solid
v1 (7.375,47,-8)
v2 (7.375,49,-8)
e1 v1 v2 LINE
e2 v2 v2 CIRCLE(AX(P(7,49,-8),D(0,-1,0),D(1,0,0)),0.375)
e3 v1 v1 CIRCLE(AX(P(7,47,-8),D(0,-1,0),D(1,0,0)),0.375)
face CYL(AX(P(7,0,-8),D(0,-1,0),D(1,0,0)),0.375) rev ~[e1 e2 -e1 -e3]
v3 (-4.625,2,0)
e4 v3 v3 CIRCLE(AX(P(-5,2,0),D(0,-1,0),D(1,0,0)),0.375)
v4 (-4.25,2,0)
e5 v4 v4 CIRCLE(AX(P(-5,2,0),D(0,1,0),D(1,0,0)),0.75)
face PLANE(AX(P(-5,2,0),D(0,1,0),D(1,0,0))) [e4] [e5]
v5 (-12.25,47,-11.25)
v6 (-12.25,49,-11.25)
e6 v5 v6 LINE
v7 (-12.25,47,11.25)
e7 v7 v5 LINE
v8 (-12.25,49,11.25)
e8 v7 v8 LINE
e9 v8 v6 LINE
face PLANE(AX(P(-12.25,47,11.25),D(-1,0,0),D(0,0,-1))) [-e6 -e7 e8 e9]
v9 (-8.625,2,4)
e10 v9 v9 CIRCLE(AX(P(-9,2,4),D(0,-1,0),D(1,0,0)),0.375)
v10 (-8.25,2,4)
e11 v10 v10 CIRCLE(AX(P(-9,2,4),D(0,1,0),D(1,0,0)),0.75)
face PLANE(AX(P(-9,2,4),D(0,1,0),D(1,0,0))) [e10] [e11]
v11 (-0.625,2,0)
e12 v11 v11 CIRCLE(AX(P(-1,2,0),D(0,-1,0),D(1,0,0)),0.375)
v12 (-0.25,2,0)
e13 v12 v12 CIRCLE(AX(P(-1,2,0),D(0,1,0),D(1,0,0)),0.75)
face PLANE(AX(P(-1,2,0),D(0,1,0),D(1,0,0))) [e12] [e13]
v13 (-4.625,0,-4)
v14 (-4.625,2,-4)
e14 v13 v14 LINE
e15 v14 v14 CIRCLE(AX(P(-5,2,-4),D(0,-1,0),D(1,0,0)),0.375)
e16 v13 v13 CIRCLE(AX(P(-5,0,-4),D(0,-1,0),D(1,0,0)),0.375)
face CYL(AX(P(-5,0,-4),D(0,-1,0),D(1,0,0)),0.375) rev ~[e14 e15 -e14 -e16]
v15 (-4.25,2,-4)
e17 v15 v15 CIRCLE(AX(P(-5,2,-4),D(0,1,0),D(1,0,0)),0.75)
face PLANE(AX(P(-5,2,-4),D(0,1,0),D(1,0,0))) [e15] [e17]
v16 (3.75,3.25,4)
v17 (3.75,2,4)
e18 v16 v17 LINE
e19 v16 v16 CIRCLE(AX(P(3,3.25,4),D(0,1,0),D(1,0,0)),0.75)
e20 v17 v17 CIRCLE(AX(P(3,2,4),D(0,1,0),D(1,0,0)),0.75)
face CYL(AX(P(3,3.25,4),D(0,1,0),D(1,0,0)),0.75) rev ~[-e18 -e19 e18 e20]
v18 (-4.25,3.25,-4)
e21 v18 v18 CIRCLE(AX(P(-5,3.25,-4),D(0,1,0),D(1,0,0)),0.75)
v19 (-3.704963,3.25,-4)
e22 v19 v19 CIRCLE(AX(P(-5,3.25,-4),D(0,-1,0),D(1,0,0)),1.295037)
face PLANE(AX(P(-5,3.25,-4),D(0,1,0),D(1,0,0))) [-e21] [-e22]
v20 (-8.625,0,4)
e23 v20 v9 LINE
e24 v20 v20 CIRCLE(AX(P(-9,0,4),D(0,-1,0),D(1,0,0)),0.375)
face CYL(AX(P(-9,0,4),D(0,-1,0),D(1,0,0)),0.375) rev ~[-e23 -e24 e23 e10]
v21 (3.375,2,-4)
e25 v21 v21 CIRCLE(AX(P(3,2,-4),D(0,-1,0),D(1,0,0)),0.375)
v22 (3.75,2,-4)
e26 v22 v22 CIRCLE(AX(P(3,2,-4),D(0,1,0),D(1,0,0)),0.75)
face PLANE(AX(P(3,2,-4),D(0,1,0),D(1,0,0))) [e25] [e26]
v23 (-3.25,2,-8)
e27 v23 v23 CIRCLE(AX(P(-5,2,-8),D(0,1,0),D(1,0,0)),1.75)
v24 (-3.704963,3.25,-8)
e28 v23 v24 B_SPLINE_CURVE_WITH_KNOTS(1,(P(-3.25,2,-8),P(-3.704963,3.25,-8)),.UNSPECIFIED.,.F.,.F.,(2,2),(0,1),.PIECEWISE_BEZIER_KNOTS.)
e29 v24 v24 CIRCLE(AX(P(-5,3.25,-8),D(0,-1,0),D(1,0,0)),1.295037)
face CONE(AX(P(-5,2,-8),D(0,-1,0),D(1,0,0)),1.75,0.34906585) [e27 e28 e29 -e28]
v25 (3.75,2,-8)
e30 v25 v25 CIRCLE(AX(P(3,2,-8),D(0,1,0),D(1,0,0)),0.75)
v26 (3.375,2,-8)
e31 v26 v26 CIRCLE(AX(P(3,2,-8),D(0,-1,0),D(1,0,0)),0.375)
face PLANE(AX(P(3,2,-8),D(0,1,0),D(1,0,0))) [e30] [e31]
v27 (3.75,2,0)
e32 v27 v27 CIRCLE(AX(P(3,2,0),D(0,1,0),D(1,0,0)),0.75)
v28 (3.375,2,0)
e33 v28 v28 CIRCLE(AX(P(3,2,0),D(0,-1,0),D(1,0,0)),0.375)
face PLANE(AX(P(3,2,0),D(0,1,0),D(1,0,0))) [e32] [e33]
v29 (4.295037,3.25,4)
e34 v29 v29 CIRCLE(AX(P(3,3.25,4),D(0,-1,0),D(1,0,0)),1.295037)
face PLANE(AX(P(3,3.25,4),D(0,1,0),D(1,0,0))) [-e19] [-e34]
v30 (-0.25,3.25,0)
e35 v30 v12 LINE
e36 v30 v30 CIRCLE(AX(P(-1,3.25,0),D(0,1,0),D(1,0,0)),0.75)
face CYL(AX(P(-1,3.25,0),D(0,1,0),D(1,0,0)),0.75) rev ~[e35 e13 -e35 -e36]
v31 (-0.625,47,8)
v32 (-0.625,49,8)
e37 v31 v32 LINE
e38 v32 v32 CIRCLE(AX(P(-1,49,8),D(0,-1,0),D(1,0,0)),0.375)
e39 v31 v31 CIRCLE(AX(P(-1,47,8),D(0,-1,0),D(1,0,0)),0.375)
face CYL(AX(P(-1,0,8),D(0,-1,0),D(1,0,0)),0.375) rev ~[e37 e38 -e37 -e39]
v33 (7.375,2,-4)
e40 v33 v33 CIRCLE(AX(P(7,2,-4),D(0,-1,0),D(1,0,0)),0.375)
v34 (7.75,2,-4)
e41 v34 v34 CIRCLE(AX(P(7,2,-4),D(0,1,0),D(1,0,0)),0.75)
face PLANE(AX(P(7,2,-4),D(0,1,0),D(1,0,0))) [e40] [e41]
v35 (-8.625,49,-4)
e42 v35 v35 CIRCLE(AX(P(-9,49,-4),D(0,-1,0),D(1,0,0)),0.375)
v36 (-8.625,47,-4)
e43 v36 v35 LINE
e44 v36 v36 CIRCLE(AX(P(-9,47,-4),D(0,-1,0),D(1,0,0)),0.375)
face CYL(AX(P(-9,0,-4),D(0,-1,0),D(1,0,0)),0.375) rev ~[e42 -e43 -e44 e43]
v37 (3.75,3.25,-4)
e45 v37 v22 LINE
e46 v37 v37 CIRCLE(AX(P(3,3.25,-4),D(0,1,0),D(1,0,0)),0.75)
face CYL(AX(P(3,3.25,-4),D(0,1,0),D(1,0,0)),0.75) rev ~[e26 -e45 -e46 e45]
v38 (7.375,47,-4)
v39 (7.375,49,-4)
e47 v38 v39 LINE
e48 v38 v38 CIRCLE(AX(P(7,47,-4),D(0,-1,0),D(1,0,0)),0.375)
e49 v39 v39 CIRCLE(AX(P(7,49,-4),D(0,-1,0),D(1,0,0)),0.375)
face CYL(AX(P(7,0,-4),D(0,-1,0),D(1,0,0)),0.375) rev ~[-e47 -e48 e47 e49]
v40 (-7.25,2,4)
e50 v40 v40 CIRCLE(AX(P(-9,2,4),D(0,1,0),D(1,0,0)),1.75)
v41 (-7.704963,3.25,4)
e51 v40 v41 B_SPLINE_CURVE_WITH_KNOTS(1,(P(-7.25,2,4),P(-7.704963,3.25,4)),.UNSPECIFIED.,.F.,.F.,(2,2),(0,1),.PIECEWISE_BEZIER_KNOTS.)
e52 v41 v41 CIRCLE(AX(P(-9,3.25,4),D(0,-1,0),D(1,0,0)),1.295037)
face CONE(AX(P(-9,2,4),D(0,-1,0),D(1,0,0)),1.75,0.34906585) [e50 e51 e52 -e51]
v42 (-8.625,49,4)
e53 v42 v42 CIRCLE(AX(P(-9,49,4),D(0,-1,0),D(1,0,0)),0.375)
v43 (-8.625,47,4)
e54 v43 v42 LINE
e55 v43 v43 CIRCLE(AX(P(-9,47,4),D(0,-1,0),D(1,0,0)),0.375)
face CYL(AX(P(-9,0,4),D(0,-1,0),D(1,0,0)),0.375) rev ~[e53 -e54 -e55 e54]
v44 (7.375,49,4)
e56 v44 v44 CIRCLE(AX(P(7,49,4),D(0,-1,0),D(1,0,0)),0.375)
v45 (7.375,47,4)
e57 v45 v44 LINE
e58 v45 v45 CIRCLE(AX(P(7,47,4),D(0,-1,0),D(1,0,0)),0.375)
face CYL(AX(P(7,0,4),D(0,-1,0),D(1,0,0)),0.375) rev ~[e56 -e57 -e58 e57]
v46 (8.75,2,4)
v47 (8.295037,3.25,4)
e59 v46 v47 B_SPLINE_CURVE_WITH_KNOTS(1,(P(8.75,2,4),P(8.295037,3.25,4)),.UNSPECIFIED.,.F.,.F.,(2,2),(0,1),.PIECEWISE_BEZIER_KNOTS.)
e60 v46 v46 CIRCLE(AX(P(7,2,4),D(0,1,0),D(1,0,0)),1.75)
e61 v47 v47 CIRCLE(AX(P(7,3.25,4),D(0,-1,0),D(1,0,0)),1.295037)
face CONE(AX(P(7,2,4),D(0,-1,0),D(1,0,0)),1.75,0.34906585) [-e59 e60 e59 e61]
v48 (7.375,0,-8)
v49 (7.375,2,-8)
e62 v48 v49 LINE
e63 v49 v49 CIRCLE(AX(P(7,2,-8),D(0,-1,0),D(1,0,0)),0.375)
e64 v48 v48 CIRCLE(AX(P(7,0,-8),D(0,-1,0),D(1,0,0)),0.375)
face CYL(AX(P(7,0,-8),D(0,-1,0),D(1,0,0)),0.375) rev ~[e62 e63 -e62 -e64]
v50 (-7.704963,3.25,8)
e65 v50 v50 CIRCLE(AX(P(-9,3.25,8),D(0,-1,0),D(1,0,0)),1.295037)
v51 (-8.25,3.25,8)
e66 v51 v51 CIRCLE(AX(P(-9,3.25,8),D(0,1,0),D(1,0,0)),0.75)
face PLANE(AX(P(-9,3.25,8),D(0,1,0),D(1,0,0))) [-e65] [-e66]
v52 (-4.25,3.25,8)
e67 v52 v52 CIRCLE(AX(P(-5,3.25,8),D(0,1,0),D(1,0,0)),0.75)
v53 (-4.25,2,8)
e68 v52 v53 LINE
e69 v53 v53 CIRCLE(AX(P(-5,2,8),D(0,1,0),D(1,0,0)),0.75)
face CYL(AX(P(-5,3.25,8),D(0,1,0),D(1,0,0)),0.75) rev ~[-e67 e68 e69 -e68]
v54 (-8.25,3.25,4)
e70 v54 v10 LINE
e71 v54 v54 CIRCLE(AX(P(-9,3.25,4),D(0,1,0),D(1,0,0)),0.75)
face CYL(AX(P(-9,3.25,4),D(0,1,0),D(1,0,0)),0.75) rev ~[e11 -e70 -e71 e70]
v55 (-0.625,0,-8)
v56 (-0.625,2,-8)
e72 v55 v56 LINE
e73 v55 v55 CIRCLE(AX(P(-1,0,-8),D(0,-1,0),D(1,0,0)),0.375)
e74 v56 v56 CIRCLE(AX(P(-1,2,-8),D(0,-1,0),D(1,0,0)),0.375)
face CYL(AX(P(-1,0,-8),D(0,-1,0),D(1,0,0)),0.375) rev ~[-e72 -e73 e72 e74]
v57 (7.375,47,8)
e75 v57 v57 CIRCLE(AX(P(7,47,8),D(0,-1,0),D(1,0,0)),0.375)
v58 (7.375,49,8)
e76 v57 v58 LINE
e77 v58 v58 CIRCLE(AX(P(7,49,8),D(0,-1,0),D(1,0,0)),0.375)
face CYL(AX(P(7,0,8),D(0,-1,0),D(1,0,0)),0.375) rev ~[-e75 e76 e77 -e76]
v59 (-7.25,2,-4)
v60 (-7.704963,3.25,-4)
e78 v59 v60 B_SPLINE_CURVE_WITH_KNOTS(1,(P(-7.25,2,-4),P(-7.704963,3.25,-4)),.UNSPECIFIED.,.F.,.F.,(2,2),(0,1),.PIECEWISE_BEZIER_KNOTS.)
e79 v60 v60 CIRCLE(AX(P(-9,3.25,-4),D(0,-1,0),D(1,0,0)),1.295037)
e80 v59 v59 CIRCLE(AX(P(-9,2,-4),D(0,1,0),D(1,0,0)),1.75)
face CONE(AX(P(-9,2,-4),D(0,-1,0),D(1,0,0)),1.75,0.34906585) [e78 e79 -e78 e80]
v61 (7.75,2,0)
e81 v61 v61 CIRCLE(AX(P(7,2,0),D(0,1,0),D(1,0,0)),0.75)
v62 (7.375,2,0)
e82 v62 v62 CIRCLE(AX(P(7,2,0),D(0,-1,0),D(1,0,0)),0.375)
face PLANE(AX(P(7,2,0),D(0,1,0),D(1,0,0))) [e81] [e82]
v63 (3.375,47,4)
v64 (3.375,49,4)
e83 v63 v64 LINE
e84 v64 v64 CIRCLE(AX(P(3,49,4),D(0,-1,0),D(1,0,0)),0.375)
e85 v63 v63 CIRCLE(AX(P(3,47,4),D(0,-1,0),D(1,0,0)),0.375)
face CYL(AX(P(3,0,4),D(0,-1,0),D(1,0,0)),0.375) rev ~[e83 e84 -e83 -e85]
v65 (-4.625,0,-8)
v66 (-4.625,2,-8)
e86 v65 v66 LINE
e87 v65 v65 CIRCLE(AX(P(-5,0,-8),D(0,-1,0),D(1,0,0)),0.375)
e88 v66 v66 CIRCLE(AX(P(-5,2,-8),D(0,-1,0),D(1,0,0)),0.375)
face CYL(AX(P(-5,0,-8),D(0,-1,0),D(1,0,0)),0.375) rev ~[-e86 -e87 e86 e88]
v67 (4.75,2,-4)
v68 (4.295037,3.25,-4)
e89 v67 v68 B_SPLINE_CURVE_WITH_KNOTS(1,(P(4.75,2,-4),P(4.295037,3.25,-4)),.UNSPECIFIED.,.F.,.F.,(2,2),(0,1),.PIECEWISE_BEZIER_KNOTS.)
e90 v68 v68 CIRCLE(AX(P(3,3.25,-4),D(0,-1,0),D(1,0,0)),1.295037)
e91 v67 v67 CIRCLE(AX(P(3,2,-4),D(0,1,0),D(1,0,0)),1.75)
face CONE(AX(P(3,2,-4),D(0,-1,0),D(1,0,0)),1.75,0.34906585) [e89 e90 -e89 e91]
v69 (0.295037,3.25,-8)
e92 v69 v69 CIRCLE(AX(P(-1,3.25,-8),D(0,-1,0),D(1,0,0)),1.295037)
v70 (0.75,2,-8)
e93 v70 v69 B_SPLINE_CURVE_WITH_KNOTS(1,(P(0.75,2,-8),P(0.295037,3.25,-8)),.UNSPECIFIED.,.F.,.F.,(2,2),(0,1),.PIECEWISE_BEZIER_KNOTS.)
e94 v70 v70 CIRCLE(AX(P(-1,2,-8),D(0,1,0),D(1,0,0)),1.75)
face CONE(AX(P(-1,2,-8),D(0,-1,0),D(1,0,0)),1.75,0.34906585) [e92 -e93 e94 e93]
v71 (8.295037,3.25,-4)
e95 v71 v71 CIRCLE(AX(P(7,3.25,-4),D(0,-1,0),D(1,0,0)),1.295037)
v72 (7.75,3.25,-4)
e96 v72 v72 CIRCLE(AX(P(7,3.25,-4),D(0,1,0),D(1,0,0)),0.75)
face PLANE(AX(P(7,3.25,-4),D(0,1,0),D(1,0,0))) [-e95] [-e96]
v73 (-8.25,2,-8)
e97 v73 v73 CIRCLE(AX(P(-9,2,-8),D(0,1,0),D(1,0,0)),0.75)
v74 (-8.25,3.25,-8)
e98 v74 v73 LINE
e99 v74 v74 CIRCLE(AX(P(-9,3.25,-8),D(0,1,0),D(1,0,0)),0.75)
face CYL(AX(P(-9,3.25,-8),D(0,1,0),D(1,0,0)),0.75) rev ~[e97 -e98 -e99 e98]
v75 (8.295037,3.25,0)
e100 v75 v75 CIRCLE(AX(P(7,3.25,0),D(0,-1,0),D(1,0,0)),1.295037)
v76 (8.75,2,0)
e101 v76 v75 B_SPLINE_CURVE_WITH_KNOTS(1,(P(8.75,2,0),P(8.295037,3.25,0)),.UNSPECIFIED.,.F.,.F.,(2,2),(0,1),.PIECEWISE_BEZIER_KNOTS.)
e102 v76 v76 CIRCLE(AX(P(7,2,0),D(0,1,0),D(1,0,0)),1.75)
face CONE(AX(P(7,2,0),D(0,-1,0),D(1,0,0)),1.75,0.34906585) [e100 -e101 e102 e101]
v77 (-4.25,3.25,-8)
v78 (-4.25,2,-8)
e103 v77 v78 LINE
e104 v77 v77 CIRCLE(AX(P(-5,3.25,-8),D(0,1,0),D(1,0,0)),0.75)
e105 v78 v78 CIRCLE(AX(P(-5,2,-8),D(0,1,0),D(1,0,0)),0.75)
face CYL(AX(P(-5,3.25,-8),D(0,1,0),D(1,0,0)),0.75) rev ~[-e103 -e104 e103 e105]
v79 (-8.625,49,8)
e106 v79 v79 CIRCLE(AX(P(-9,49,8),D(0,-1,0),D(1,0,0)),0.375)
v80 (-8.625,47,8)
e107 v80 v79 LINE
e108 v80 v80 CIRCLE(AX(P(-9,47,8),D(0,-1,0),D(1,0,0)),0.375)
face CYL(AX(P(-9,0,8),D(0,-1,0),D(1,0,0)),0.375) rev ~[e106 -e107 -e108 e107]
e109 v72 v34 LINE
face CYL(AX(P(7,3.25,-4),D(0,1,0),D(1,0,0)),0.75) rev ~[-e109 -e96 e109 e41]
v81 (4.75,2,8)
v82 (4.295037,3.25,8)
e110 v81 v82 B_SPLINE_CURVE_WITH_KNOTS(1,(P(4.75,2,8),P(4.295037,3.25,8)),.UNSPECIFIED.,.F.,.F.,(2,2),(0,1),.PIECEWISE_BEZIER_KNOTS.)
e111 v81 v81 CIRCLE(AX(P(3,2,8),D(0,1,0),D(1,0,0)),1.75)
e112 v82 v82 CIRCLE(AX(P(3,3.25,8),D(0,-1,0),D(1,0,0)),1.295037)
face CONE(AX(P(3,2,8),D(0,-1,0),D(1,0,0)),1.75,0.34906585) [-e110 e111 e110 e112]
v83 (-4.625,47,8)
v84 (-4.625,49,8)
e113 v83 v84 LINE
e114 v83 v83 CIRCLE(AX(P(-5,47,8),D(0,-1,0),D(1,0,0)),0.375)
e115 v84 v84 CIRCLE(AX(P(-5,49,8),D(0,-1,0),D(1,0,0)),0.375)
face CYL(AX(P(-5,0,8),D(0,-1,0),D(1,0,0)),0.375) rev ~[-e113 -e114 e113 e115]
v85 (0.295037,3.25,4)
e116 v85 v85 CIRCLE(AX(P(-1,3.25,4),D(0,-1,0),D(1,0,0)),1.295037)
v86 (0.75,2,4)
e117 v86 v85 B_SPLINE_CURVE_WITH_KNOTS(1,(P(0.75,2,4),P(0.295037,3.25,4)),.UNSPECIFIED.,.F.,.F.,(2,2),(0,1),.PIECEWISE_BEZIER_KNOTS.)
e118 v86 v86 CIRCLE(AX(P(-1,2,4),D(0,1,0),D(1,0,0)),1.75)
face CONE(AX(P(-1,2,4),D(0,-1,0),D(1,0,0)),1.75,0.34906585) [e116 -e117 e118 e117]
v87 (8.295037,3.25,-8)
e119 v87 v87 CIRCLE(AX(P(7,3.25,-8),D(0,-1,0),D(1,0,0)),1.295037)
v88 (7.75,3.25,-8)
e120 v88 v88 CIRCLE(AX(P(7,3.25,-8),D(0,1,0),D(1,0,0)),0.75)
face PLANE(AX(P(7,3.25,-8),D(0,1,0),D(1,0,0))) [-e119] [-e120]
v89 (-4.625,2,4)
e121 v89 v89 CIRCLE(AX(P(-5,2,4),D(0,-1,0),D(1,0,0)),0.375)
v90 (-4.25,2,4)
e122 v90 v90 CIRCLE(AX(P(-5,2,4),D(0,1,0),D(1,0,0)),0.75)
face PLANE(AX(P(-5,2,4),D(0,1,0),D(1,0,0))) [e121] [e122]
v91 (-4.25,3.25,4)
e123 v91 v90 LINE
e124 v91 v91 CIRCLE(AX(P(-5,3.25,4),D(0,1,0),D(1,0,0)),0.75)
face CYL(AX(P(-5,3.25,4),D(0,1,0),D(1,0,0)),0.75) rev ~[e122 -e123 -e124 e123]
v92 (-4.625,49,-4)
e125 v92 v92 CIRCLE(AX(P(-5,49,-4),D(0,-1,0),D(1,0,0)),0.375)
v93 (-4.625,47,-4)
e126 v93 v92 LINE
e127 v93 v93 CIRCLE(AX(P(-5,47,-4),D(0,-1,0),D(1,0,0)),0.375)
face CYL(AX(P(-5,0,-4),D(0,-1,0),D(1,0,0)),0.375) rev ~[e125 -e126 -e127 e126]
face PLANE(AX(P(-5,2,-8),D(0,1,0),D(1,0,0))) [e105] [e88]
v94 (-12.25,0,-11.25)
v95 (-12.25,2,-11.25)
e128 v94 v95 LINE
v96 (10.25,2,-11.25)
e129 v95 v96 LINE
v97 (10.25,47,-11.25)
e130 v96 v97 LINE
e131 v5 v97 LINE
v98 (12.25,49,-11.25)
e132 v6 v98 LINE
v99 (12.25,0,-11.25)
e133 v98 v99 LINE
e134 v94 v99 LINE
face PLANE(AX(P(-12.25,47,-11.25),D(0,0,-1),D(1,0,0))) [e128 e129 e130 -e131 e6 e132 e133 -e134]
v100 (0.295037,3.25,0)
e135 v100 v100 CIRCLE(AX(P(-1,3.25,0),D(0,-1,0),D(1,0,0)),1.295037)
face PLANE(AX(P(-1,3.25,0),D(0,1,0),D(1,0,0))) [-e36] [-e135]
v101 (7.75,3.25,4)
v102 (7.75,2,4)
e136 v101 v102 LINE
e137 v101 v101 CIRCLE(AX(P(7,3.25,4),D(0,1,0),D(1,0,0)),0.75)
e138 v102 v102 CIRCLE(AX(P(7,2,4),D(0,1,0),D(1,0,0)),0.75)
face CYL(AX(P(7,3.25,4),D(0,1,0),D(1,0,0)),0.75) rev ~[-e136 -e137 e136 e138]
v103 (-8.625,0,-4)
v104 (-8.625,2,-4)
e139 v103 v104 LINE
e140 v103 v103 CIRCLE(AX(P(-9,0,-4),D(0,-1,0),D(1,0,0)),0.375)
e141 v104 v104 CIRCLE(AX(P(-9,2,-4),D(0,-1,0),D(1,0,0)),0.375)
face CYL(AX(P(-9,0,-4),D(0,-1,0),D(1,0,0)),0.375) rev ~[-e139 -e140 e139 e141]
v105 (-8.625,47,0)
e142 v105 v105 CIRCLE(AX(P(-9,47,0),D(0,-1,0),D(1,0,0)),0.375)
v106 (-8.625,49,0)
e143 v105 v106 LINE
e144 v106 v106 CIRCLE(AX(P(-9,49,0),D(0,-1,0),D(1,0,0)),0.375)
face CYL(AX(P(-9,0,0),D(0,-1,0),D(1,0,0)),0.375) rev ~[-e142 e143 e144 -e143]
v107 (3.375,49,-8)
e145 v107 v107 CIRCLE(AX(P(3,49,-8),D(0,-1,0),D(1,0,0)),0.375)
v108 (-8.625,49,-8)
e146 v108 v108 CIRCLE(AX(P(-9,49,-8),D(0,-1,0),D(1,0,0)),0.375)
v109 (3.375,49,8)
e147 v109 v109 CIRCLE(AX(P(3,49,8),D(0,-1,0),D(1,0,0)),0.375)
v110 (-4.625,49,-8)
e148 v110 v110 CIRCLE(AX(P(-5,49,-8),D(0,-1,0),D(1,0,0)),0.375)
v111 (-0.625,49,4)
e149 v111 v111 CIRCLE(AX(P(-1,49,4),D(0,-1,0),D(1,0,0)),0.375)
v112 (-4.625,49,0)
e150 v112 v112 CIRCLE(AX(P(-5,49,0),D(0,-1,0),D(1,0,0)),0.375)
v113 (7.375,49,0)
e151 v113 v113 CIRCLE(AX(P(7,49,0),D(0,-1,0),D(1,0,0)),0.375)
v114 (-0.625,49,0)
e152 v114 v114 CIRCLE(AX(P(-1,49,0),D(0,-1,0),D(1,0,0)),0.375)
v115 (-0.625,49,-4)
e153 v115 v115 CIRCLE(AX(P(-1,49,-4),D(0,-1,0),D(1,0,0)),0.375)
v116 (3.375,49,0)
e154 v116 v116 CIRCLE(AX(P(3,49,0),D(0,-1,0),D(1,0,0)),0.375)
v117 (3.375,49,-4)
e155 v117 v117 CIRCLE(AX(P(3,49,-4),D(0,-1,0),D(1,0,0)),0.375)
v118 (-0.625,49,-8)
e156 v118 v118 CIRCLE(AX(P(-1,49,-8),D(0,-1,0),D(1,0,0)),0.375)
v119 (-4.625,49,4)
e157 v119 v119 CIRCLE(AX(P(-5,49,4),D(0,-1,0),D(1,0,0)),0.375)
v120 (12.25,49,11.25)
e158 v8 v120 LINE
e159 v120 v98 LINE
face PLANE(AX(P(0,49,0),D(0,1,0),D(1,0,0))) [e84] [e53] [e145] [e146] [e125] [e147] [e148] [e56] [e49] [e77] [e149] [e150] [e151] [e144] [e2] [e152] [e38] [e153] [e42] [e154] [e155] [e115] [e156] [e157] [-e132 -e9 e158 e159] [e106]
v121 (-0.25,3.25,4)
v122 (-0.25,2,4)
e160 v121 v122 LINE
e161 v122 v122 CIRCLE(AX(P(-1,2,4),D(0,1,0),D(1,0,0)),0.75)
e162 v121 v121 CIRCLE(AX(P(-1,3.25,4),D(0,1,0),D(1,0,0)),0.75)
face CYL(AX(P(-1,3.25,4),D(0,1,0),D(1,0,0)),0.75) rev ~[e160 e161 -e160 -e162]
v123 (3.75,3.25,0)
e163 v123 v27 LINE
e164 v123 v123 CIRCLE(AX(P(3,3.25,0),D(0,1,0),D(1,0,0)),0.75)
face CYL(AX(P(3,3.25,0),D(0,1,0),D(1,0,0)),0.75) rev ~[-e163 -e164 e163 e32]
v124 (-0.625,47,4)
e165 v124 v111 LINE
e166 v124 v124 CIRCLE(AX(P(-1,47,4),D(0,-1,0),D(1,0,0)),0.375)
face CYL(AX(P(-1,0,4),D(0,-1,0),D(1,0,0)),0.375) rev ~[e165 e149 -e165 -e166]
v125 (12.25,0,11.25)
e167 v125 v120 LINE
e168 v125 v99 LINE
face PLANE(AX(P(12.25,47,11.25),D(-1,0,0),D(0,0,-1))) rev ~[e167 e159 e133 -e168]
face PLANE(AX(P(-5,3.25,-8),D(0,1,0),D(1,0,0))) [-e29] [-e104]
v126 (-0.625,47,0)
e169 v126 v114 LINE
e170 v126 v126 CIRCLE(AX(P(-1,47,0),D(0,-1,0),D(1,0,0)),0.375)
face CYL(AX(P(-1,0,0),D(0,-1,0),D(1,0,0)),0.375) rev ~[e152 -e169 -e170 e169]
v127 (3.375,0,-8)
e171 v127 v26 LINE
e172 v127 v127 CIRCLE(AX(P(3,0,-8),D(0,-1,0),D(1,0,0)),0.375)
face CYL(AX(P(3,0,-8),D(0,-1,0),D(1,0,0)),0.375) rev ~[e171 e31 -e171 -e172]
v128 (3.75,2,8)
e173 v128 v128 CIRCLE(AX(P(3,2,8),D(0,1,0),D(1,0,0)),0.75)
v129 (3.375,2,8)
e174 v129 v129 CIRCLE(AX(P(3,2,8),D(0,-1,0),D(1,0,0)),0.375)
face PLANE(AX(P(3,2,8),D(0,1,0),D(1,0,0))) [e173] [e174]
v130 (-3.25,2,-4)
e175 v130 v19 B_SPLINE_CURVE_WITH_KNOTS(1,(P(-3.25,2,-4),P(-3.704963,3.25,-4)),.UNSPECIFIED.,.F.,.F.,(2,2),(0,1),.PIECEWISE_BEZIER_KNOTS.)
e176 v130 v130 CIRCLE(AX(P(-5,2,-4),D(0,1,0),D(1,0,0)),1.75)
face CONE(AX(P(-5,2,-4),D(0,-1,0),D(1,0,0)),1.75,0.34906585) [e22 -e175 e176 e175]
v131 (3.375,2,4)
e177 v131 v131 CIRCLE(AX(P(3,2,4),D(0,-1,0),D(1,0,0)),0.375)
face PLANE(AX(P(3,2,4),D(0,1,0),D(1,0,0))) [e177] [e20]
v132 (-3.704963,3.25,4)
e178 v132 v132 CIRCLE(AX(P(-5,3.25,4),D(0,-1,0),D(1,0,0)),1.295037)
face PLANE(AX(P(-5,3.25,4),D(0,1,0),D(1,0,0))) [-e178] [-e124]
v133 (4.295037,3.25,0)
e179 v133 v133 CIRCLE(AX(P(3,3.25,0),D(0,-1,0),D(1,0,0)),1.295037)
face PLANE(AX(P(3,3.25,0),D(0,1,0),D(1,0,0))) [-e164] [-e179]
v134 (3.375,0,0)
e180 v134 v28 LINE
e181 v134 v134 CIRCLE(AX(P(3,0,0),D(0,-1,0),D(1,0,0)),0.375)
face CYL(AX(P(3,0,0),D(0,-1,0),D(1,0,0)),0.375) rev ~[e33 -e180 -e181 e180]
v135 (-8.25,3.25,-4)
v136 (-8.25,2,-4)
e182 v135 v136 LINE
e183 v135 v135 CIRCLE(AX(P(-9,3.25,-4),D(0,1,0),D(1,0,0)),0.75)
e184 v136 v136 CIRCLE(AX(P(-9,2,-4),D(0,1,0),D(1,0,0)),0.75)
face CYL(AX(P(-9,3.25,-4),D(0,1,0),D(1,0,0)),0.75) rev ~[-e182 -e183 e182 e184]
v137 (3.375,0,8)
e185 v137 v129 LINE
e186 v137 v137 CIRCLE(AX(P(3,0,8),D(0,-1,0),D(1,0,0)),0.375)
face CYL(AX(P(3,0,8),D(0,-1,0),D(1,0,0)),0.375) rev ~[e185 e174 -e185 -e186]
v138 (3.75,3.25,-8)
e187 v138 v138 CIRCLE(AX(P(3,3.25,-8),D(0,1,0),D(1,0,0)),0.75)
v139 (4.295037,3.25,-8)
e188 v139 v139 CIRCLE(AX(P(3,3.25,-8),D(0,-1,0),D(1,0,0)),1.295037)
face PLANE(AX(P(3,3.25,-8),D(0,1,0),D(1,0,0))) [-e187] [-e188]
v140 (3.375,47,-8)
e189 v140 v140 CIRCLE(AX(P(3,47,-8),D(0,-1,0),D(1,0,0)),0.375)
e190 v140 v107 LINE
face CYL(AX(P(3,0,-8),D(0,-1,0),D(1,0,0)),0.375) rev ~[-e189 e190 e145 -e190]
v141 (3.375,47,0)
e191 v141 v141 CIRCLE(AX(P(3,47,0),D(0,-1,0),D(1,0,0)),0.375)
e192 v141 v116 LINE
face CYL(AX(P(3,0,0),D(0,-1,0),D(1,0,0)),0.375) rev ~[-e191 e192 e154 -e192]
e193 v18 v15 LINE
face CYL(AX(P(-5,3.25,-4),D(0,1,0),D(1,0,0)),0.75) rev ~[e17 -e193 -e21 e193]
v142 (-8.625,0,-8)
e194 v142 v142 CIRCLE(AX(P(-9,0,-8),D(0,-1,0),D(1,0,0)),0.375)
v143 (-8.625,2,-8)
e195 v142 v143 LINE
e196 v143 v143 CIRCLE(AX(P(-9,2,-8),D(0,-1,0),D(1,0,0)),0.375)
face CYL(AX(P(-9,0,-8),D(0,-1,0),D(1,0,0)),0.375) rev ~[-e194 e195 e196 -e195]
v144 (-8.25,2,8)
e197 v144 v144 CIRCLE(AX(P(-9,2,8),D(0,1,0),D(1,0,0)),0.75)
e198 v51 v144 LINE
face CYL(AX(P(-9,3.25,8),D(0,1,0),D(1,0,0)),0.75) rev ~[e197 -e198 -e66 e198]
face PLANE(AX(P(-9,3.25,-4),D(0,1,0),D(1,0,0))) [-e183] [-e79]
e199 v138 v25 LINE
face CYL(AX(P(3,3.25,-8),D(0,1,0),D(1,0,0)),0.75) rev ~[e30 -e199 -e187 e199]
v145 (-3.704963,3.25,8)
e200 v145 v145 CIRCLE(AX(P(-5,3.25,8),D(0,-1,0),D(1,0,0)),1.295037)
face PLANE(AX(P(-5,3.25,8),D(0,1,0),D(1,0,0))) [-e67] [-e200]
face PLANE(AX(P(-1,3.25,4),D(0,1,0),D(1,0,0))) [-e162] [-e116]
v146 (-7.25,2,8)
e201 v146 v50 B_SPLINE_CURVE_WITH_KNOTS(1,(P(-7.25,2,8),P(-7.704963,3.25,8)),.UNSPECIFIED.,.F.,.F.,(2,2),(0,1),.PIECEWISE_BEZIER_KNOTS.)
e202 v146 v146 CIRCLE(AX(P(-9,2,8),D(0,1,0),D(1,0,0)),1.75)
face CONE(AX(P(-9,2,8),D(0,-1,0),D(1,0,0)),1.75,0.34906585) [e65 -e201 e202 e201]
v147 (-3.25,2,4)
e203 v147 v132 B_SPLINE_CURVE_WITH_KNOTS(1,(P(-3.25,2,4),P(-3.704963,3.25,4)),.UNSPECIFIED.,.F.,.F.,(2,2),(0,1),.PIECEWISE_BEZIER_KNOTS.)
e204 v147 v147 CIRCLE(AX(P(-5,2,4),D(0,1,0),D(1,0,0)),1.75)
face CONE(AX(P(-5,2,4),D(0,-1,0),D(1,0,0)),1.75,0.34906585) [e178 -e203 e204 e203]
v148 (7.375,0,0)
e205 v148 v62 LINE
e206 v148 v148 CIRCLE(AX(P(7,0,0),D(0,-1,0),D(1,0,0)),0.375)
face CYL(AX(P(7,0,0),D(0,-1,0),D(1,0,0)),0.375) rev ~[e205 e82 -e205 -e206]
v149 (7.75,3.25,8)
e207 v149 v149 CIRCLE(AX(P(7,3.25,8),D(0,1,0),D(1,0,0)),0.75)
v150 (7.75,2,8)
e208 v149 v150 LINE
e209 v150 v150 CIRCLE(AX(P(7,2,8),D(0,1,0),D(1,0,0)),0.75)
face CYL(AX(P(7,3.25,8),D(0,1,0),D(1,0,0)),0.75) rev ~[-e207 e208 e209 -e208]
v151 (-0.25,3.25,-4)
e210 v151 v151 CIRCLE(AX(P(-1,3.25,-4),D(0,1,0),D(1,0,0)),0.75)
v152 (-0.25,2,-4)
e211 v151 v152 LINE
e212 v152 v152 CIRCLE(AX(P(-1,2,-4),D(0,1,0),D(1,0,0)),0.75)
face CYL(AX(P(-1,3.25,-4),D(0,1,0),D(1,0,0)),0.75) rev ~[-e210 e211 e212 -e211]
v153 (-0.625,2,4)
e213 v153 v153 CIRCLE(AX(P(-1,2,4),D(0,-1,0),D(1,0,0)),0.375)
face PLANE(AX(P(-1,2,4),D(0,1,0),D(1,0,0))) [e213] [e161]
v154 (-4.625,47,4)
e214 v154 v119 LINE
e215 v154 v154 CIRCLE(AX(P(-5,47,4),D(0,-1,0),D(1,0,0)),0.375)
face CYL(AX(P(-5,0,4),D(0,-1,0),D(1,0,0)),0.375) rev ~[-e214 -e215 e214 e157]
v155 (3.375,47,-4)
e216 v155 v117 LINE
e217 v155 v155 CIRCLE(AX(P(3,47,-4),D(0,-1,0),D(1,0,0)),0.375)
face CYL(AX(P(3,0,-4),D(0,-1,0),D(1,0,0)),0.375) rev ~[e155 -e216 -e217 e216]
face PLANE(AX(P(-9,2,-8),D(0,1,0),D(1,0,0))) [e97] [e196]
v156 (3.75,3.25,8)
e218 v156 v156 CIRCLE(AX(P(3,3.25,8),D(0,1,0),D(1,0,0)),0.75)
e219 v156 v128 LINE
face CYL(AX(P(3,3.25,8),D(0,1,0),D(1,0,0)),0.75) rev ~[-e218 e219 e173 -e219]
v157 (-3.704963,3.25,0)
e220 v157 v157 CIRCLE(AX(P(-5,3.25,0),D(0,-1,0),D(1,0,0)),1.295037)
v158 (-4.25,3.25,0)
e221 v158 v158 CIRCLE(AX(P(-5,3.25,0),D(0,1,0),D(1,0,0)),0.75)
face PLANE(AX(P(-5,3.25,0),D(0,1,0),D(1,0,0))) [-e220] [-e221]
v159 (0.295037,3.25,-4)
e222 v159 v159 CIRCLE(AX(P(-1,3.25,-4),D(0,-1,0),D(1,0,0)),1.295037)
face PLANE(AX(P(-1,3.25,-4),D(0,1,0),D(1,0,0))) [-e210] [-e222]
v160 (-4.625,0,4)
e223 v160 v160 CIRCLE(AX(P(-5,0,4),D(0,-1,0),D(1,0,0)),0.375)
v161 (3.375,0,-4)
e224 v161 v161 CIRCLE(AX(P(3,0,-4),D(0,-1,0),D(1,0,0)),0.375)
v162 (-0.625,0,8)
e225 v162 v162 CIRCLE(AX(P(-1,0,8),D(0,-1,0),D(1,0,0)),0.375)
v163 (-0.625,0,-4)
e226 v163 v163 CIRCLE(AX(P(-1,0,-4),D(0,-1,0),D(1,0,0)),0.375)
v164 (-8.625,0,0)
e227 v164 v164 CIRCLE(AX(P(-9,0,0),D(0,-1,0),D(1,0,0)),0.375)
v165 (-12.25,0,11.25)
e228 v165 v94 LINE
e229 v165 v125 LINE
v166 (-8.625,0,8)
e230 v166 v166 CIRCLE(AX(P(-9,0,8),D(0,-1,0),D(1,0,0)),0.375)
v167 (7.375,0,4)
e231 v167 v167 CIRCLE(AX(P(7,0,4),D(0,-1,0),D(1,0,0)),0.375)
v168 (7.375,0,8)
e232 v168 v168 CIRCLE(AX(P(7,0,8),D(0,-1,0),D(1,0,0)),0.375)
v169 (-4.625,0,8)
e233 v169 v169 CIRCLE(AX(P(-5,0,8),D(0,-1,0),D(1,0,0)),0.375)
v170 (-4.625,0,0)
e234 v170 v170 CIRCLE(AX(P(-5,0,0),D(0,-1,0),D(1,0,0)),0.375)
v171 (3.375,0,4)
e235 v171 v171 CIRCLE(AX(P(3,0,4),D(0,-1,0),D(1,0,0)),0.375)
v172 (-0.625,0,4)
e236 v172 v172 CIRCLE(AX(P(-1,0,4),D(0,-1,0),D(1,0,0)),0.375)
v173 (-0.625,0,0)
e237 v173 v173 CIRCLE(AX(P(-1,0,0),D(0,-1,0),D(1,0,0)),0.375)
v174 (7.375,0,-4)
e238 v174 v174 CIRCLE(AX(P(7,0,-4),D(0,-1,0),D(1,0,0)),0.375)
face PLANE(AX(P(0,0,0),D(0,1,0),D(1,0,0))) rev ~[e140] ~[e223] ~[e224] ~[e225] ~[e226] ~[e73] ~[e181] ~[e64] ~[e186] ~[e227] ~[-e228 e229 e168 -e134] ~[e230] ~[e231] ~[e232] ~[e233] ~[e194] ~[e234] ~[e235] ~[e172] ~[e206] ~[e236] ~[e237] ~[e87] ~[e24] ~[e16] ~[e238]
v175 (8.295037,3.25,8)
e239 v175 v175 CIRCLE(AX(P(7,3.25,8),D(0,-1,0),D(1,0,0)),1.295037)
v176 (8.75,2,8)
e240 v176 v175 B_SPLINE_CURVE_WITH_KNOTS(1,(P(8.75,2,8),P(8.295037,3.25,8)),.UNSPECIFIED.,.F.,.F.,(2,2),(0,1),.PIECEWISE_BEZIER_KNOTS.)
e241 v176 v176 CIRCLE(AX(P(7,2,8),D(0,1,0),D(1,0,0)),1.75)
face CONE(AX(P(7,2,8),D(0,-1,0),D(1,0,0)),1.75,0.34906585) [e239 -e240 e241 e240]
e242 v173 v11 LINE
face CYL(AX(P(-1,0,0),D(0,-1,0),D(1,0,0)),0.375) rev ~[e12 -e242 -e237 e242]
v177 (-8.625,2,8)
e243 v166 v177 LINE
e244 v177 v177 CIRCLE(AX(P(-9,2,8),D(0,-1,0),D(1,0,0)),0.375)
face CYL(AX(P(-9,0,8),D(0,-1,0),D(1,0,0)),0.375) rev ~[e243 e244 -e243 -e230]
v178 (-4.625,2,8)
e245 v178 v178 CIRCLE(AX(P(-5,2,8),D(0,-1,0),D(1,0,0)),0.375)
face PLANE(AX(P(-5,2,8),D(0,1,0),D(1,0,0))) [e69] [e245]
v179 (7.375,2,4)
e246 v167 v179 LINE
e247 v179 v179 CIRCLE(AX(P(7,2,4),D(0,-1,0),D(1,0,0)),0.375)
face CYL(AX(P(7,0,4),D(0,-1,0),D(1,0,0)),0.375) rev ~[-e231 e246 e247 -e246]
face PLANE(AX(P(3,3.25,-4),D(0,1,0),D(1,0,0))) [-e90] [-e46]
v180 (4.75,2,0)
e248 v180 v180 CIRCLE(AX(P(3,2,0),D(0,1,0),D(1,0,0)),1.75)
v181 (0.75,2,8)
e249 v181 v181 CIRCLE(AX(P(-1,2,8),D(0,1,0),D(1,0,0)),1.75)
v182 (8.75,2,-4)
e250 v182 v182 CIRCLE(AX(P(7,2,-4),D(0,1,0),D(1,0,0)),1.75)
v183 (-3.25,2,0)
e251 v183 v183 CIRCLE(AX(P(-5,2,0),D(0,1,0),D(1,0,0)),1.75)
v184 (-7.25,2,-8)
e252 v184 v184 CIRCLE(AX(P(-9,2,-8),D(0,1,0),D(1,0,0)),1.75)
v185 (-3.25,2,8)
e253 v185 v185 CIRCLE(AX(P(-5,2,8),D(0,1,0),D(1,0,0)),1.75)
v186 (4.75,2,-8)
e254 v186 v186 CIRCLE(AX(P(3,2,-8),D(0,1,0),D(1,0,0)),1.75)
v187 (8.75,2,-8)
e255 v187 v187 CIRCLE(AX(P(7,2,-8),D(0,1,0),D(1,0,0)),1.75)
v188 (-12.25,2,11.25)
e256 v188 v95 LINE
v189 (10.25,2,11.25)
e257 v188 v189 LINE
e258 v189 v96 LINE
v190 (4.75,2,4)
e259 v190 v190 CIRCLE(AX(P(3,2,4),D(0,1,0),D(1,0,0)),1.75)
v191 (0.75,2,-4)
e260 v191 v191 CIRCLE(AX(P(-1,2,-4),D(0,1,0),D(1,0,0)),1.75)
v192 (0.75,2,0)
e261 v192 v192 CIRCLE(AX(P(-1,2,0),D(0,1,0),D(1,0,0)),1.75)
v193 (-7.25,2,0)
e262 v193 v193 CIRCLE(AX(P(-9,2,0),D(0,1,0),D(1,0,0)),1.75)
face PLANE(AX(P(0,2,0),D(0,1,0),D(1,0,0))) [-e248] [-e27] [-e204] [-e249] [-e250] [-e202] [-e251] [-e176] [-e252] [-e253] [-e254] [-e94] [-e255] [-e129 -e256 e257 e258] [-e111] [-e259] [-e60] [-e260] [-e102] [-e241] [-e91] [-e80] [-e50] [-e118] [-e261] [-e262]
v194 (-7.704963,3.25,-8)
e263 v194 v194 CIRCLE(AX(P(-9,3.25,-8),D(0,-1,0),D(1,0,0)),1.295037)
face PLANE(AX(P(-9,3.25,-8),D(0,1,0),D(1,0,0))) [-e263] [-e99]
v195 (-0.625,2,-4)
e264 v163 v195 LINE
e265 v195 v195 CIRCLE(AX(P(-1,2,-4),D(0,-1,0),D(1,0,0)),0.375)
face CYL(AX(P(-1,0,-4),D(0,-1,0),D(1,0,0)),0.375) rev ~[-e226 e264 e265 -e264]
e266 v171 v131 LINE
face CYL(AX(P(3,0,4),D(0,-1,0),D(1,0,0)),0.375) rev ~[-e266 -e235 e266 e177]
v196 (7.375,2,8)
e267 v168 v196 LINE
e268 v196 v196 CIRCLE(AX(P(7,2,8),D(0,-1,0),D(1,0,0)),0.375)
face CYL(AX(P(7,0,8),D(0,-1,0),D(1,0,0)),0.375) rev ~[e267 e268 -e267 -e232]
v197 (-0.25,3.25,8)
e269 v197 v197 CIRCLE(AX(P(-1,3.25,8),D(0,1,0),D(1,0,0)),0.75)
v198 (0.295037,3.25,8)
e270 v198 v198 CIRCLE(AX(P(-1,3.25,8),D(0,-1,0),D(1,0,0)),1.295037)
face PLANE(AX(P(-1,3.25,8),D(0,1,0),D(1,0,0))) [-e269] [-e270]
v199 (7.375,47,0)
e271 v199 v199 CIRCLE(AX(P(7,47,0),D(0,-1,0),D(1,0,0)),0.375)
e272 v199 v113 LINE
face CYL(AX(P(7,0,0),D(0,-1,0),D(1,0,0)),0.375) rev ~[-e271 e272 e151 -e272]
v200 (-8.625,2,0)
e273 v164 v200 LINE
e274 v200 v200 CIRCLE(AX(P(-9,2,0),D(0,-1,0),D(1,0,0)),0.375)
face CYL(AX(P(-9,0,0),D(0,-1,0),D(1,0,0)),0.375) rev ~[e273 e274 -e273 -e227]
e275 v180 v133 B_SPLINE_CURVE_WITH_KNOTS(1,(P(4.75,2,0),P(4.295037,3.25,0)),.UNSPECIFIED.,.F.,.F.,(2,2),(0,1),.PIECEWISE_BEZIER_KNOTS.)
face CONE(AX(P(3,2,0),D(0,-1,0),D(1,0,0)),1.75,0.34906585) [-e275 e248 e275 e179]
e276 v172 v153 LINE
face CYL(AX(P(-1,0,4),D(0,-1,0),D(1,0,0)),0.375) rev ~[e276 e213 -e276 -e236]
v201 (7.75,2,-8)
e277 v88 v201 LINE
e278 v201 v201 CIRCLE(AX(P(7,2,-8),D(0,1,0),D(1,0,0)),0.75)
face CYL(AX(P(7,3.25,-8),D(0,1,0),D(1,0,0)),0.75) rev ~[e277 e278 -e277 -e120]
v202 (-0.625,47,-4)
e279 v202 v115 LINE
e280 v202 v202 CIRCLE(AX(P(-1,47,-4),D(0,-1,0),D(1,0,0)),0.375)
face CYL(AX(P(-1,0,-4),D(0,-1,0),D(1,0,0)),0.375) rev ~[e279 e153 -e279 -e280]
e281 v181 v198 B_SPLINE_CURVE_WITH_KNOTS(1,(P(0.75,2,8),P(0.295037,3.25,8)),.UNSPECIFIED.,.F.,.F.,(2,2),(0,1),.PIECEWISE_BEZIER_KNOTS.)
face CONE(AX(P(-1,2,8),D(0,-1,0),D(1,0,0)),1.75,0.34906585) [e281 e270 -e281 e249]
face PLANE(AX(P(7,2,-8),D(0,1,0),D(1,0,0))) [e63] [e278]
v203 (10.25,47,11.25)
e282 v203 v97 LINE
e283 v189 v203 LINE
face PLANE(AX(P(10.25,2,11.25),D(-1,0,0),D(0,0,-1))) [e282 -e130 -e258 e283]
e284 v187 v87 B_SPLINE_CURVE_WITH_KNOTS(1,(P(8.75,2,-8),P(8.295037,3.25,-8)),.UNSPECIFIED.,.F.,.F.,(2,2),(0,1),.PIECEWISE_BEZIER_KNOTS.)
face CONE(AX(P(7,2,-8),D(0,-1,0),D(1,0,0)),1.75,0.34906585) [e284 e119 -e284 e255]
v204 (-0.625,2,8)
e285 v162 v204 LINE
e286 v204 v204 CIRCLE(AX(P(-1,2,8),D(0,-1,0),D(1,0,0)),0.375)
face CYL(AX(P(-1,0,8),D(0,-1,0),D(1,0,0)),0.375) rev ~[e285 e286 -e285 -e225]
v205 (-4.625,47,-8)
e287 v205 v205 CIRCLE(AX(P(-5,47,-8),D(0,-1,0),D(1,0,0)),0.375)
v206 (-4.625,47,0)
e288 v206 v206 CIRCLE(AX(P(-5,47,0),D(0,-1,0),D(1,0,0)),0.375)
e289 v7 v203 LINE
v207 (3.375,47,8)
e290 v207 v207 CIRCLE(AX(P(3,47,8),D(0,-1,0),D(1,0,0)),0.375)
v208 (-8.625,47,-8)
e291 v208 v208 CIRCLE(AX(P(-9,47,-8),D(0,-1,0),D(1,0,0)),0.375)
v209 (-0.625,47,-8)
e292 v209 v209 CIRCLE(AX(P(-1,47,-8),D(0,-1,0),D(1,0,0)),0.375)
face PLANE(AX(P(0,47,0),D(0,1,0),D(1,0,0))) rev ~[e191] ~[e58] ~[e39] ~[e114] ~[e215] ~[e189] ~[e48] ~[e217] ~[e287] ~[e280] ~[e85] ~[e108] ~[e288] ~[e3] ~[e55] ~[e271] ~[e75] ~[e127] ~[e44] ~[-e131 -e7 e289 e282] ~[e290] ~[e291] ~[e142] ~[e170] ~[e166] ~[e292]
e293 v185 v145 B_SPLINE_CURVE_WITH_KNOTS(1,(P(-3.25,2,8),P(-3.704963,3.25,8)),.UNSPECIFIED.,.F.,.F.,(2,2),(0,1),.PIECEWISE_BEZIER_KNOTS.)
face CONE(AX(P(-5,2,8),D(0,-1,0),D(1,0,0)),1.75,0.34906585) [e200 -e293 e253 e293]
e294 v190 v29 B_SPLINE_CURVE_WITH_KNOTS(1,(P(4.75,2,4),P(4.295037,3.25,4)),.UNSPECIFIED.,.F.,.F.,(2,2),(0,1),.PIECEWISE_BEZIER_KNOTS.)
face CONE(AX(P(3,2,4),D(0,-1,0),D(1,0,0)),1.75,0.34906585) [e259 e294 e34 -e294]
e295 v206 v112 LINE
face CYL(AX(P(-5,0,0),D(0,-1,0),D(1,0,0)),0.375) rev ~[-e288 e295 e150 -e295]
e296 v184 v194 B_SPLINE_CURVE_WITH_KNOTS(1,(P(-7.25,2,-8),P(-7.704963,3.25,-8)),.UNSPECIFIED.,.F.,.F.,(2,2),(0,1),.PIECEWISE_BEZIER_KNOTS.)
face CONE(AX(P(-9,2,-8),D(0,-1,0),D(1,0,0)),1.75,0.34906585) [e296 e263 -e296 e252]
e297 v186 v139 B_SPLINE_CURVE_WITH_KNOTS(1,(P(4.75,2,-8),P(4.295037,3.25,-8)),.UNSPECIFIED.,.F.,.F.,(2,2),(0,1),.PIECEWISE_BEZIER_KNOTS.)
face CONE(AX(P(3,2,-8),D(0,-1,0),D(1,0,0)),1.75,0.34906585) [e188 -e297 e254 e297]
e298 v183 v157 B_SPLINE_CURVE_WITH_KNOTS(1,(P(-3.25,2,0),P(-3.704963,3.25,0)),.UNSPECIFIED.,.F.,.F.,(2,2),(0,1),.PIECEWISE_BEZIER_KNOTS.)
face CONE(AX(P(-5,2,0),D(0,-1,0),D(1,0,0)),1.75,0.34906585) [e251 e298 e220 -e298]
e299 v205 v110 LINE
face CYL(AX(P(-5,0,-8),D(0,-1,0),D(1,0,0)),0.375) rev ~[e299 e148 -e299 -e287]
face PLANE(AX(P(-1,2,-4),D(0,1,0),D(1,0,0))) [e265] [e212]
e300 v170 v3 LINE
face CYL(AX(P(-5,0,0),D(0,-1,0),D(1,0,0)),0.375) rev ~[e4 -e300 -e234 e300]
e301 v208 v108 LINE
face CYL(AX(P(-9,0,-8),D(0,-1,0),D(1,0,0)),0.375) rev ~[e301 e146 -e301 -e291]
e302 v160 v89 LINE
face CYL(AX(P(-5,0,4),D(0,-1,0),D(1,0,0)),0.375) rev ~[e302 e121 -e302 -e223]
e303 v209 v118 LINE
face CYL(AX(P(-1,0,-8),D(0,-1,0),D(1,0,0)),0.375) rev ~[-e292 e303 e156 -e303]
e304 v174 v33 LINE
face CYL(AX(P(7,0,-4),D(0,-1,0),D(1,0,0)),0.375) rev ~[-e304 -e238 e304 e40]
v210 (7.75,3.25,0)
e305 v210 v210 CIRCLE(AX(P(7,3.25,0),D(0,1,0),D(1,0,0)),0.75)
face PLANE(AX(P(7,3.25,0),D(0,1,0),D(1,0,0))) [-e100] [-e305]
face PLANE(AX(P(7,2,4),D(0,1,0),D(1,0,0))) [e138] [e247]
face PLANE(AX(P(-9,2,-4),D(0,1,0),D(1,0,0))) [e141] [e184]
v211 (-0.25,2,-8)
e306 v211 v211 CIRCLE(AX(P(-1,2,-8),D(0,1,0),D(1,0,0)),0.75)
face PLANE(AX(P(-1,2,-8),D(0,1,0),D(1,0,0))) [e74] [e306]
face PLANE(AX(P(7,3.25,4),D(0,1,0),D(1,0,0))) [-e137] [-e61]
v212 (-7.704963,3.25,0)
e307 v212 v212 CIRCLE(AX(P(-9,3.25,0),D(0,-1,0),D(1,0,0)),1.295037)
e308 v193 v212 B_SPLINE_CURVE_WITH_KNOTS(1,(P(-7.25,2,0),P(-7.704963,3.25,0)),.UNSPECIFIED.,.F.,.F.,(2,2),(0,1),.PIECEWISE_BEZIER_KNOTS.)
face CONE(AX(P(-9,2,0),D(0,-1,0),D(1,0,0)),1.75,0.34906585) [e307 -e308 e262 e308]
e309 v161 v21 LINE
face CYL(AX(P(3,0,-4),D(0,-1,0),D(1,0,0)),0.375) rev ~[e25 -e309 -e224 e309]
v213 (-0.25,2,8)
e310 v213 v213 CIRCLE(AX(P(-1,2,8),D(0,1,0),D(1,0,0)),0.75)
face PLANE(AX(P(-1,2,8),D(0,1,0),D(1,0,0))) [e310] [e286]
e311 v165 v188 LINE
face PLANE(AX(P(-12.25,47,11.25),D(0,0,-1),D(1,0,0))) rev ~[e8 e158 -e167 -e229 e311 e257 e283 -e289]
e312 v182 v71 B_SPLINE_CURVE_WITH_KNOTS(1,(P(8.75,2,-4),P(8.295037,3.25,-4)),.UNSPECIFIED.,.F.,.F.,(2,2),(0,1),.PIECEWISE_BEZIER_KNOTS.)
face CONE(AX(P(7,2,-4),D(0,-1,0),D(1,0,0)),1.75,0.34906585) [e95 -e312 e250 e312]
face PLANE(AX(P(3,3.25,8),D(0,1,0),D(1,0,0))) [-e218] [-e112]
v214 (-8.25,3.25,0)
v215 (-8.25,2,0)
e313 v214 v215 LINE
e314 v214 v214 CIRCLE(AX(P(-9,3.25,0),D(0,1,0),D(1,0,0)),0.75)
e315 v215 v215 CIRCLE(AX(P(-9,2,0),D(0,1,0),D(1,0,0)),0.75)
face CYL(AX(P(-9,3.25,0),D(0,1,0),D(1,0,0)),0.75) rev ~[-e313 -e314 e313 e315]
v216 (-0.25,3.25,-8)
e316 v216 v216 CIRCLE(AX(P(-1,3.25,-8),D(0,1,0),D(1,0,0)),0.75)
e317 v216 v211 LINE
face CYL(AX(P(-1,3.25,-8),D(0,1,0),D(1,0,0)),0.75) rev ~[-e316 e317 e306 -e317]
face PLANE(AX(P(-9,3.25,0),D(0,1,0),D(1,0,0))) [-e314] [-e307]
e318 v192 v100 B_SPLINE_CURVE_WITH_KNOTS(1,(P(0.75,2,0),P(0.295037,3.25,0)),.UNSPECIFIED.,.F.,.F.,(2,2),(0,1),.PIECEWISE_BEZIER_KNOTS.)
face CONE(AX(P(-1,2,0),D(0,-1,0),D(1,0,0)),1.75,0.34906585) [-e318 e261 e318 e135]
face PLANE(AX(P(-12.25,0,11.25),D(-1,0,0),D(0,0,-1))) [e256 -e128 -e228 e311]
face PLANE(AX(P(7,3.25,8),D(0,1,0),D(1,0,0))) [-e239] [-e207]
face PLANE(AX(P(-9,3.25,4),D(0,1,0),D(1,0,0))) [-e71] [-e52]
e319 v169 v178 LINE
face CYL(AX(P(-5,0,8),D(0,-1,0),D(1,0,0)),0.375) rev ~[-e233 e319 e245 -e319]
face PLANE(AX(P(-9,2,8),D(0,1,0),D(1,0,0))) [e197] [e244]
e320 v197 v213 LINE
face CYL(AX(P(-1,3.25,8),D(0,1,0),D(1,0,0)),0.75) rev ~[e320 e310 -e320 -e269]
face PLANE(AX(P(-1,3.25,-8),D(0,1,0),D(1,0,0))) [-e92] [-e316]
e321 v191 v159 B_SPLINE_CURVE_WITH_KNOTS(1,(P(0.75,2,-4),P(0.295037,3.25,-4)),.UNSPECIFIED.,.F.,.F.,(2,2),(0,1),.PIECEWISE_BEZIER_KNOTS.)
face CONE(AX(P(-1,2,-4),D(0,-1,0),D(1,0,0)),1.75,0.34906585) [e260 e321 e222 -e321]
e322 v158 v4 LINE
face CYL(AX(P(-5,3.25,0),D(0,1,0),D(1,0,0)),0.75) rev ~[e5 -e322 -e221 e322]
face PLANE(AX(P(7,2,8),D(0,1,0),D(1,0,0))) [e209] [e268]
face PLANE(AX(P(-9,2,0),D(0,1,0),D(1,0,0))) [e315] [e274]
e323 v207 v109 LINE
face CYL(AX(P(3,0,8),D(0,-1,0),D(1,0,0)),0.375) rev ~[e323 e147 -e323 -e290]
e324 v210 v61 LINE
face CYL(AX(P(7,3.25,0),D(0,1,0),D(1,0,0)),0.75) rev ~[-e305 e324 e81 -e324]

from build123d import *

# Parameters (mm, degrees)
SKETCH1_W            = 24.5
SKETCH1_H            = 22.5
BOSS_EXTRUDE1_DEPTH  = 2
SKETCH2_W            = 2
SKETCH2_H            = 22.5
BOSS_EXTRUDE2_DEPTH  = 45
SKETCH4_W            = 24.5
SKETCH4_H            = 22.5
BOSS_EXTRUDE3_DEPTH  = 2
SKETCH3_R            = 0.375
CUT_EXTRUDE1_DEPTH   = 50
SKETCH5_R            = 1.75
BOSS_EXTRUDE4_DEPTH  = 1.25
BOSS_EXTRUDE4_TAPER  = 20
SKETCH6_R            = 0.75
CUT_EXTRUDE2_DEPTH   = 1.25
LPATTERN1_COUNT      = 5
LPATTERN1_PITCH      = 4
LPATTERN1_COUNT_DIR2 = 5
LPATTERN1_PITCH_DIR2 = 4


with BuildPart() as part:
    # Sketch1 → Boss-Extrude1 (new body)
    with BuildSketch(Plane(origin=(0, 0, 0), x_dir=(1, 0, 0), z_dir=(0, 1, 0))):
        Rectangle(SKETCH1_W, SKETCH1_H)
    extrude(amount=BOSS_EXTRUDE1_DEPTH)

    # Sketch2 → Boss-Extrude2 (add)
    with BuildSketch(Plane(origin=(0, 2, 0), x_dir=(1, 0, 0), z_dir=(0, 1, 0))):
        with Locations((11.25, 0)):
            Rectangle(SKETCH2_W, SKETCH2_H)
    extrude(amount=BOSS_EXTRUDE2_DEPTH)

    # Sketch4 → Boss-Extrude3 (add)
    with BuildSketch(Plane(origin=(0, 47, 0), x_dir=(1, 0, 0), z_dir=(0, 1, 0))):
        Rectangle(SKETCH4_W, SKETCH4_H)
    extrude(amount=BOSS_EXTRUDE3_DEPTH)

    # Sketch3 → Cut-Extrude1 (cut, through all)
    with BuildSketch(Plane.XZ):
        with Locations((-9, 8)):
            Circle(SKETCH3_R)
    cut_extrude1 = extrude(amount=-CUT_EXTRUDE1_DEPTH, mode=Mode.SUBTRACT)

    # Sketch5 → Boss-Extrude4 (add)
    with BuildSketch(Plane(origin=(0, 2, 0), x_dir=(1, 0, 0), z_dir=(0, 1, 0))):
        with Locations((-9, -8)):
            Circle(SKETCH5_R)
    boss_extrude4 = extrude(amount=BOSS_EXTRUDE4_DEPTH, taper=BOSS_EXTRUDE4_TAPER)

    # Sketch6 → Cut-Extrude2 (cut)
    with BuildSketch(Plane(origin=(0, 3.25, 0), x_dir=(1, 0, 0), z_dir=(0, 1, 0))):
        with Locations((-9, -8)):
            Circle(SKETCH6_R)
    cut_extrude2 = extrude(amount=-CUT_EXTRUDE2_DEPTH, mode=Mode.SUBTRACT)

    # LPattern1: Cut-Extrude1, Boss-Extrude4, Cut-Extrude2 5 × 5
    with Locations(*[(j * LPATTERN1_PITCH_DIR2, 0, -i * LPATTERN1_PITCH) for i in range(LPATTERN1_COUNT) for j in range(LPATTERN1_COUNT_DIR2) if (i, j) != (0, 0)]):
        add(cut_extrude1, mode=Mode.SUBTRACT)
        add(boss_extrude4)
        add(cut_extrude2, mode=Mode.SUBTRACT)


solid = part.part
